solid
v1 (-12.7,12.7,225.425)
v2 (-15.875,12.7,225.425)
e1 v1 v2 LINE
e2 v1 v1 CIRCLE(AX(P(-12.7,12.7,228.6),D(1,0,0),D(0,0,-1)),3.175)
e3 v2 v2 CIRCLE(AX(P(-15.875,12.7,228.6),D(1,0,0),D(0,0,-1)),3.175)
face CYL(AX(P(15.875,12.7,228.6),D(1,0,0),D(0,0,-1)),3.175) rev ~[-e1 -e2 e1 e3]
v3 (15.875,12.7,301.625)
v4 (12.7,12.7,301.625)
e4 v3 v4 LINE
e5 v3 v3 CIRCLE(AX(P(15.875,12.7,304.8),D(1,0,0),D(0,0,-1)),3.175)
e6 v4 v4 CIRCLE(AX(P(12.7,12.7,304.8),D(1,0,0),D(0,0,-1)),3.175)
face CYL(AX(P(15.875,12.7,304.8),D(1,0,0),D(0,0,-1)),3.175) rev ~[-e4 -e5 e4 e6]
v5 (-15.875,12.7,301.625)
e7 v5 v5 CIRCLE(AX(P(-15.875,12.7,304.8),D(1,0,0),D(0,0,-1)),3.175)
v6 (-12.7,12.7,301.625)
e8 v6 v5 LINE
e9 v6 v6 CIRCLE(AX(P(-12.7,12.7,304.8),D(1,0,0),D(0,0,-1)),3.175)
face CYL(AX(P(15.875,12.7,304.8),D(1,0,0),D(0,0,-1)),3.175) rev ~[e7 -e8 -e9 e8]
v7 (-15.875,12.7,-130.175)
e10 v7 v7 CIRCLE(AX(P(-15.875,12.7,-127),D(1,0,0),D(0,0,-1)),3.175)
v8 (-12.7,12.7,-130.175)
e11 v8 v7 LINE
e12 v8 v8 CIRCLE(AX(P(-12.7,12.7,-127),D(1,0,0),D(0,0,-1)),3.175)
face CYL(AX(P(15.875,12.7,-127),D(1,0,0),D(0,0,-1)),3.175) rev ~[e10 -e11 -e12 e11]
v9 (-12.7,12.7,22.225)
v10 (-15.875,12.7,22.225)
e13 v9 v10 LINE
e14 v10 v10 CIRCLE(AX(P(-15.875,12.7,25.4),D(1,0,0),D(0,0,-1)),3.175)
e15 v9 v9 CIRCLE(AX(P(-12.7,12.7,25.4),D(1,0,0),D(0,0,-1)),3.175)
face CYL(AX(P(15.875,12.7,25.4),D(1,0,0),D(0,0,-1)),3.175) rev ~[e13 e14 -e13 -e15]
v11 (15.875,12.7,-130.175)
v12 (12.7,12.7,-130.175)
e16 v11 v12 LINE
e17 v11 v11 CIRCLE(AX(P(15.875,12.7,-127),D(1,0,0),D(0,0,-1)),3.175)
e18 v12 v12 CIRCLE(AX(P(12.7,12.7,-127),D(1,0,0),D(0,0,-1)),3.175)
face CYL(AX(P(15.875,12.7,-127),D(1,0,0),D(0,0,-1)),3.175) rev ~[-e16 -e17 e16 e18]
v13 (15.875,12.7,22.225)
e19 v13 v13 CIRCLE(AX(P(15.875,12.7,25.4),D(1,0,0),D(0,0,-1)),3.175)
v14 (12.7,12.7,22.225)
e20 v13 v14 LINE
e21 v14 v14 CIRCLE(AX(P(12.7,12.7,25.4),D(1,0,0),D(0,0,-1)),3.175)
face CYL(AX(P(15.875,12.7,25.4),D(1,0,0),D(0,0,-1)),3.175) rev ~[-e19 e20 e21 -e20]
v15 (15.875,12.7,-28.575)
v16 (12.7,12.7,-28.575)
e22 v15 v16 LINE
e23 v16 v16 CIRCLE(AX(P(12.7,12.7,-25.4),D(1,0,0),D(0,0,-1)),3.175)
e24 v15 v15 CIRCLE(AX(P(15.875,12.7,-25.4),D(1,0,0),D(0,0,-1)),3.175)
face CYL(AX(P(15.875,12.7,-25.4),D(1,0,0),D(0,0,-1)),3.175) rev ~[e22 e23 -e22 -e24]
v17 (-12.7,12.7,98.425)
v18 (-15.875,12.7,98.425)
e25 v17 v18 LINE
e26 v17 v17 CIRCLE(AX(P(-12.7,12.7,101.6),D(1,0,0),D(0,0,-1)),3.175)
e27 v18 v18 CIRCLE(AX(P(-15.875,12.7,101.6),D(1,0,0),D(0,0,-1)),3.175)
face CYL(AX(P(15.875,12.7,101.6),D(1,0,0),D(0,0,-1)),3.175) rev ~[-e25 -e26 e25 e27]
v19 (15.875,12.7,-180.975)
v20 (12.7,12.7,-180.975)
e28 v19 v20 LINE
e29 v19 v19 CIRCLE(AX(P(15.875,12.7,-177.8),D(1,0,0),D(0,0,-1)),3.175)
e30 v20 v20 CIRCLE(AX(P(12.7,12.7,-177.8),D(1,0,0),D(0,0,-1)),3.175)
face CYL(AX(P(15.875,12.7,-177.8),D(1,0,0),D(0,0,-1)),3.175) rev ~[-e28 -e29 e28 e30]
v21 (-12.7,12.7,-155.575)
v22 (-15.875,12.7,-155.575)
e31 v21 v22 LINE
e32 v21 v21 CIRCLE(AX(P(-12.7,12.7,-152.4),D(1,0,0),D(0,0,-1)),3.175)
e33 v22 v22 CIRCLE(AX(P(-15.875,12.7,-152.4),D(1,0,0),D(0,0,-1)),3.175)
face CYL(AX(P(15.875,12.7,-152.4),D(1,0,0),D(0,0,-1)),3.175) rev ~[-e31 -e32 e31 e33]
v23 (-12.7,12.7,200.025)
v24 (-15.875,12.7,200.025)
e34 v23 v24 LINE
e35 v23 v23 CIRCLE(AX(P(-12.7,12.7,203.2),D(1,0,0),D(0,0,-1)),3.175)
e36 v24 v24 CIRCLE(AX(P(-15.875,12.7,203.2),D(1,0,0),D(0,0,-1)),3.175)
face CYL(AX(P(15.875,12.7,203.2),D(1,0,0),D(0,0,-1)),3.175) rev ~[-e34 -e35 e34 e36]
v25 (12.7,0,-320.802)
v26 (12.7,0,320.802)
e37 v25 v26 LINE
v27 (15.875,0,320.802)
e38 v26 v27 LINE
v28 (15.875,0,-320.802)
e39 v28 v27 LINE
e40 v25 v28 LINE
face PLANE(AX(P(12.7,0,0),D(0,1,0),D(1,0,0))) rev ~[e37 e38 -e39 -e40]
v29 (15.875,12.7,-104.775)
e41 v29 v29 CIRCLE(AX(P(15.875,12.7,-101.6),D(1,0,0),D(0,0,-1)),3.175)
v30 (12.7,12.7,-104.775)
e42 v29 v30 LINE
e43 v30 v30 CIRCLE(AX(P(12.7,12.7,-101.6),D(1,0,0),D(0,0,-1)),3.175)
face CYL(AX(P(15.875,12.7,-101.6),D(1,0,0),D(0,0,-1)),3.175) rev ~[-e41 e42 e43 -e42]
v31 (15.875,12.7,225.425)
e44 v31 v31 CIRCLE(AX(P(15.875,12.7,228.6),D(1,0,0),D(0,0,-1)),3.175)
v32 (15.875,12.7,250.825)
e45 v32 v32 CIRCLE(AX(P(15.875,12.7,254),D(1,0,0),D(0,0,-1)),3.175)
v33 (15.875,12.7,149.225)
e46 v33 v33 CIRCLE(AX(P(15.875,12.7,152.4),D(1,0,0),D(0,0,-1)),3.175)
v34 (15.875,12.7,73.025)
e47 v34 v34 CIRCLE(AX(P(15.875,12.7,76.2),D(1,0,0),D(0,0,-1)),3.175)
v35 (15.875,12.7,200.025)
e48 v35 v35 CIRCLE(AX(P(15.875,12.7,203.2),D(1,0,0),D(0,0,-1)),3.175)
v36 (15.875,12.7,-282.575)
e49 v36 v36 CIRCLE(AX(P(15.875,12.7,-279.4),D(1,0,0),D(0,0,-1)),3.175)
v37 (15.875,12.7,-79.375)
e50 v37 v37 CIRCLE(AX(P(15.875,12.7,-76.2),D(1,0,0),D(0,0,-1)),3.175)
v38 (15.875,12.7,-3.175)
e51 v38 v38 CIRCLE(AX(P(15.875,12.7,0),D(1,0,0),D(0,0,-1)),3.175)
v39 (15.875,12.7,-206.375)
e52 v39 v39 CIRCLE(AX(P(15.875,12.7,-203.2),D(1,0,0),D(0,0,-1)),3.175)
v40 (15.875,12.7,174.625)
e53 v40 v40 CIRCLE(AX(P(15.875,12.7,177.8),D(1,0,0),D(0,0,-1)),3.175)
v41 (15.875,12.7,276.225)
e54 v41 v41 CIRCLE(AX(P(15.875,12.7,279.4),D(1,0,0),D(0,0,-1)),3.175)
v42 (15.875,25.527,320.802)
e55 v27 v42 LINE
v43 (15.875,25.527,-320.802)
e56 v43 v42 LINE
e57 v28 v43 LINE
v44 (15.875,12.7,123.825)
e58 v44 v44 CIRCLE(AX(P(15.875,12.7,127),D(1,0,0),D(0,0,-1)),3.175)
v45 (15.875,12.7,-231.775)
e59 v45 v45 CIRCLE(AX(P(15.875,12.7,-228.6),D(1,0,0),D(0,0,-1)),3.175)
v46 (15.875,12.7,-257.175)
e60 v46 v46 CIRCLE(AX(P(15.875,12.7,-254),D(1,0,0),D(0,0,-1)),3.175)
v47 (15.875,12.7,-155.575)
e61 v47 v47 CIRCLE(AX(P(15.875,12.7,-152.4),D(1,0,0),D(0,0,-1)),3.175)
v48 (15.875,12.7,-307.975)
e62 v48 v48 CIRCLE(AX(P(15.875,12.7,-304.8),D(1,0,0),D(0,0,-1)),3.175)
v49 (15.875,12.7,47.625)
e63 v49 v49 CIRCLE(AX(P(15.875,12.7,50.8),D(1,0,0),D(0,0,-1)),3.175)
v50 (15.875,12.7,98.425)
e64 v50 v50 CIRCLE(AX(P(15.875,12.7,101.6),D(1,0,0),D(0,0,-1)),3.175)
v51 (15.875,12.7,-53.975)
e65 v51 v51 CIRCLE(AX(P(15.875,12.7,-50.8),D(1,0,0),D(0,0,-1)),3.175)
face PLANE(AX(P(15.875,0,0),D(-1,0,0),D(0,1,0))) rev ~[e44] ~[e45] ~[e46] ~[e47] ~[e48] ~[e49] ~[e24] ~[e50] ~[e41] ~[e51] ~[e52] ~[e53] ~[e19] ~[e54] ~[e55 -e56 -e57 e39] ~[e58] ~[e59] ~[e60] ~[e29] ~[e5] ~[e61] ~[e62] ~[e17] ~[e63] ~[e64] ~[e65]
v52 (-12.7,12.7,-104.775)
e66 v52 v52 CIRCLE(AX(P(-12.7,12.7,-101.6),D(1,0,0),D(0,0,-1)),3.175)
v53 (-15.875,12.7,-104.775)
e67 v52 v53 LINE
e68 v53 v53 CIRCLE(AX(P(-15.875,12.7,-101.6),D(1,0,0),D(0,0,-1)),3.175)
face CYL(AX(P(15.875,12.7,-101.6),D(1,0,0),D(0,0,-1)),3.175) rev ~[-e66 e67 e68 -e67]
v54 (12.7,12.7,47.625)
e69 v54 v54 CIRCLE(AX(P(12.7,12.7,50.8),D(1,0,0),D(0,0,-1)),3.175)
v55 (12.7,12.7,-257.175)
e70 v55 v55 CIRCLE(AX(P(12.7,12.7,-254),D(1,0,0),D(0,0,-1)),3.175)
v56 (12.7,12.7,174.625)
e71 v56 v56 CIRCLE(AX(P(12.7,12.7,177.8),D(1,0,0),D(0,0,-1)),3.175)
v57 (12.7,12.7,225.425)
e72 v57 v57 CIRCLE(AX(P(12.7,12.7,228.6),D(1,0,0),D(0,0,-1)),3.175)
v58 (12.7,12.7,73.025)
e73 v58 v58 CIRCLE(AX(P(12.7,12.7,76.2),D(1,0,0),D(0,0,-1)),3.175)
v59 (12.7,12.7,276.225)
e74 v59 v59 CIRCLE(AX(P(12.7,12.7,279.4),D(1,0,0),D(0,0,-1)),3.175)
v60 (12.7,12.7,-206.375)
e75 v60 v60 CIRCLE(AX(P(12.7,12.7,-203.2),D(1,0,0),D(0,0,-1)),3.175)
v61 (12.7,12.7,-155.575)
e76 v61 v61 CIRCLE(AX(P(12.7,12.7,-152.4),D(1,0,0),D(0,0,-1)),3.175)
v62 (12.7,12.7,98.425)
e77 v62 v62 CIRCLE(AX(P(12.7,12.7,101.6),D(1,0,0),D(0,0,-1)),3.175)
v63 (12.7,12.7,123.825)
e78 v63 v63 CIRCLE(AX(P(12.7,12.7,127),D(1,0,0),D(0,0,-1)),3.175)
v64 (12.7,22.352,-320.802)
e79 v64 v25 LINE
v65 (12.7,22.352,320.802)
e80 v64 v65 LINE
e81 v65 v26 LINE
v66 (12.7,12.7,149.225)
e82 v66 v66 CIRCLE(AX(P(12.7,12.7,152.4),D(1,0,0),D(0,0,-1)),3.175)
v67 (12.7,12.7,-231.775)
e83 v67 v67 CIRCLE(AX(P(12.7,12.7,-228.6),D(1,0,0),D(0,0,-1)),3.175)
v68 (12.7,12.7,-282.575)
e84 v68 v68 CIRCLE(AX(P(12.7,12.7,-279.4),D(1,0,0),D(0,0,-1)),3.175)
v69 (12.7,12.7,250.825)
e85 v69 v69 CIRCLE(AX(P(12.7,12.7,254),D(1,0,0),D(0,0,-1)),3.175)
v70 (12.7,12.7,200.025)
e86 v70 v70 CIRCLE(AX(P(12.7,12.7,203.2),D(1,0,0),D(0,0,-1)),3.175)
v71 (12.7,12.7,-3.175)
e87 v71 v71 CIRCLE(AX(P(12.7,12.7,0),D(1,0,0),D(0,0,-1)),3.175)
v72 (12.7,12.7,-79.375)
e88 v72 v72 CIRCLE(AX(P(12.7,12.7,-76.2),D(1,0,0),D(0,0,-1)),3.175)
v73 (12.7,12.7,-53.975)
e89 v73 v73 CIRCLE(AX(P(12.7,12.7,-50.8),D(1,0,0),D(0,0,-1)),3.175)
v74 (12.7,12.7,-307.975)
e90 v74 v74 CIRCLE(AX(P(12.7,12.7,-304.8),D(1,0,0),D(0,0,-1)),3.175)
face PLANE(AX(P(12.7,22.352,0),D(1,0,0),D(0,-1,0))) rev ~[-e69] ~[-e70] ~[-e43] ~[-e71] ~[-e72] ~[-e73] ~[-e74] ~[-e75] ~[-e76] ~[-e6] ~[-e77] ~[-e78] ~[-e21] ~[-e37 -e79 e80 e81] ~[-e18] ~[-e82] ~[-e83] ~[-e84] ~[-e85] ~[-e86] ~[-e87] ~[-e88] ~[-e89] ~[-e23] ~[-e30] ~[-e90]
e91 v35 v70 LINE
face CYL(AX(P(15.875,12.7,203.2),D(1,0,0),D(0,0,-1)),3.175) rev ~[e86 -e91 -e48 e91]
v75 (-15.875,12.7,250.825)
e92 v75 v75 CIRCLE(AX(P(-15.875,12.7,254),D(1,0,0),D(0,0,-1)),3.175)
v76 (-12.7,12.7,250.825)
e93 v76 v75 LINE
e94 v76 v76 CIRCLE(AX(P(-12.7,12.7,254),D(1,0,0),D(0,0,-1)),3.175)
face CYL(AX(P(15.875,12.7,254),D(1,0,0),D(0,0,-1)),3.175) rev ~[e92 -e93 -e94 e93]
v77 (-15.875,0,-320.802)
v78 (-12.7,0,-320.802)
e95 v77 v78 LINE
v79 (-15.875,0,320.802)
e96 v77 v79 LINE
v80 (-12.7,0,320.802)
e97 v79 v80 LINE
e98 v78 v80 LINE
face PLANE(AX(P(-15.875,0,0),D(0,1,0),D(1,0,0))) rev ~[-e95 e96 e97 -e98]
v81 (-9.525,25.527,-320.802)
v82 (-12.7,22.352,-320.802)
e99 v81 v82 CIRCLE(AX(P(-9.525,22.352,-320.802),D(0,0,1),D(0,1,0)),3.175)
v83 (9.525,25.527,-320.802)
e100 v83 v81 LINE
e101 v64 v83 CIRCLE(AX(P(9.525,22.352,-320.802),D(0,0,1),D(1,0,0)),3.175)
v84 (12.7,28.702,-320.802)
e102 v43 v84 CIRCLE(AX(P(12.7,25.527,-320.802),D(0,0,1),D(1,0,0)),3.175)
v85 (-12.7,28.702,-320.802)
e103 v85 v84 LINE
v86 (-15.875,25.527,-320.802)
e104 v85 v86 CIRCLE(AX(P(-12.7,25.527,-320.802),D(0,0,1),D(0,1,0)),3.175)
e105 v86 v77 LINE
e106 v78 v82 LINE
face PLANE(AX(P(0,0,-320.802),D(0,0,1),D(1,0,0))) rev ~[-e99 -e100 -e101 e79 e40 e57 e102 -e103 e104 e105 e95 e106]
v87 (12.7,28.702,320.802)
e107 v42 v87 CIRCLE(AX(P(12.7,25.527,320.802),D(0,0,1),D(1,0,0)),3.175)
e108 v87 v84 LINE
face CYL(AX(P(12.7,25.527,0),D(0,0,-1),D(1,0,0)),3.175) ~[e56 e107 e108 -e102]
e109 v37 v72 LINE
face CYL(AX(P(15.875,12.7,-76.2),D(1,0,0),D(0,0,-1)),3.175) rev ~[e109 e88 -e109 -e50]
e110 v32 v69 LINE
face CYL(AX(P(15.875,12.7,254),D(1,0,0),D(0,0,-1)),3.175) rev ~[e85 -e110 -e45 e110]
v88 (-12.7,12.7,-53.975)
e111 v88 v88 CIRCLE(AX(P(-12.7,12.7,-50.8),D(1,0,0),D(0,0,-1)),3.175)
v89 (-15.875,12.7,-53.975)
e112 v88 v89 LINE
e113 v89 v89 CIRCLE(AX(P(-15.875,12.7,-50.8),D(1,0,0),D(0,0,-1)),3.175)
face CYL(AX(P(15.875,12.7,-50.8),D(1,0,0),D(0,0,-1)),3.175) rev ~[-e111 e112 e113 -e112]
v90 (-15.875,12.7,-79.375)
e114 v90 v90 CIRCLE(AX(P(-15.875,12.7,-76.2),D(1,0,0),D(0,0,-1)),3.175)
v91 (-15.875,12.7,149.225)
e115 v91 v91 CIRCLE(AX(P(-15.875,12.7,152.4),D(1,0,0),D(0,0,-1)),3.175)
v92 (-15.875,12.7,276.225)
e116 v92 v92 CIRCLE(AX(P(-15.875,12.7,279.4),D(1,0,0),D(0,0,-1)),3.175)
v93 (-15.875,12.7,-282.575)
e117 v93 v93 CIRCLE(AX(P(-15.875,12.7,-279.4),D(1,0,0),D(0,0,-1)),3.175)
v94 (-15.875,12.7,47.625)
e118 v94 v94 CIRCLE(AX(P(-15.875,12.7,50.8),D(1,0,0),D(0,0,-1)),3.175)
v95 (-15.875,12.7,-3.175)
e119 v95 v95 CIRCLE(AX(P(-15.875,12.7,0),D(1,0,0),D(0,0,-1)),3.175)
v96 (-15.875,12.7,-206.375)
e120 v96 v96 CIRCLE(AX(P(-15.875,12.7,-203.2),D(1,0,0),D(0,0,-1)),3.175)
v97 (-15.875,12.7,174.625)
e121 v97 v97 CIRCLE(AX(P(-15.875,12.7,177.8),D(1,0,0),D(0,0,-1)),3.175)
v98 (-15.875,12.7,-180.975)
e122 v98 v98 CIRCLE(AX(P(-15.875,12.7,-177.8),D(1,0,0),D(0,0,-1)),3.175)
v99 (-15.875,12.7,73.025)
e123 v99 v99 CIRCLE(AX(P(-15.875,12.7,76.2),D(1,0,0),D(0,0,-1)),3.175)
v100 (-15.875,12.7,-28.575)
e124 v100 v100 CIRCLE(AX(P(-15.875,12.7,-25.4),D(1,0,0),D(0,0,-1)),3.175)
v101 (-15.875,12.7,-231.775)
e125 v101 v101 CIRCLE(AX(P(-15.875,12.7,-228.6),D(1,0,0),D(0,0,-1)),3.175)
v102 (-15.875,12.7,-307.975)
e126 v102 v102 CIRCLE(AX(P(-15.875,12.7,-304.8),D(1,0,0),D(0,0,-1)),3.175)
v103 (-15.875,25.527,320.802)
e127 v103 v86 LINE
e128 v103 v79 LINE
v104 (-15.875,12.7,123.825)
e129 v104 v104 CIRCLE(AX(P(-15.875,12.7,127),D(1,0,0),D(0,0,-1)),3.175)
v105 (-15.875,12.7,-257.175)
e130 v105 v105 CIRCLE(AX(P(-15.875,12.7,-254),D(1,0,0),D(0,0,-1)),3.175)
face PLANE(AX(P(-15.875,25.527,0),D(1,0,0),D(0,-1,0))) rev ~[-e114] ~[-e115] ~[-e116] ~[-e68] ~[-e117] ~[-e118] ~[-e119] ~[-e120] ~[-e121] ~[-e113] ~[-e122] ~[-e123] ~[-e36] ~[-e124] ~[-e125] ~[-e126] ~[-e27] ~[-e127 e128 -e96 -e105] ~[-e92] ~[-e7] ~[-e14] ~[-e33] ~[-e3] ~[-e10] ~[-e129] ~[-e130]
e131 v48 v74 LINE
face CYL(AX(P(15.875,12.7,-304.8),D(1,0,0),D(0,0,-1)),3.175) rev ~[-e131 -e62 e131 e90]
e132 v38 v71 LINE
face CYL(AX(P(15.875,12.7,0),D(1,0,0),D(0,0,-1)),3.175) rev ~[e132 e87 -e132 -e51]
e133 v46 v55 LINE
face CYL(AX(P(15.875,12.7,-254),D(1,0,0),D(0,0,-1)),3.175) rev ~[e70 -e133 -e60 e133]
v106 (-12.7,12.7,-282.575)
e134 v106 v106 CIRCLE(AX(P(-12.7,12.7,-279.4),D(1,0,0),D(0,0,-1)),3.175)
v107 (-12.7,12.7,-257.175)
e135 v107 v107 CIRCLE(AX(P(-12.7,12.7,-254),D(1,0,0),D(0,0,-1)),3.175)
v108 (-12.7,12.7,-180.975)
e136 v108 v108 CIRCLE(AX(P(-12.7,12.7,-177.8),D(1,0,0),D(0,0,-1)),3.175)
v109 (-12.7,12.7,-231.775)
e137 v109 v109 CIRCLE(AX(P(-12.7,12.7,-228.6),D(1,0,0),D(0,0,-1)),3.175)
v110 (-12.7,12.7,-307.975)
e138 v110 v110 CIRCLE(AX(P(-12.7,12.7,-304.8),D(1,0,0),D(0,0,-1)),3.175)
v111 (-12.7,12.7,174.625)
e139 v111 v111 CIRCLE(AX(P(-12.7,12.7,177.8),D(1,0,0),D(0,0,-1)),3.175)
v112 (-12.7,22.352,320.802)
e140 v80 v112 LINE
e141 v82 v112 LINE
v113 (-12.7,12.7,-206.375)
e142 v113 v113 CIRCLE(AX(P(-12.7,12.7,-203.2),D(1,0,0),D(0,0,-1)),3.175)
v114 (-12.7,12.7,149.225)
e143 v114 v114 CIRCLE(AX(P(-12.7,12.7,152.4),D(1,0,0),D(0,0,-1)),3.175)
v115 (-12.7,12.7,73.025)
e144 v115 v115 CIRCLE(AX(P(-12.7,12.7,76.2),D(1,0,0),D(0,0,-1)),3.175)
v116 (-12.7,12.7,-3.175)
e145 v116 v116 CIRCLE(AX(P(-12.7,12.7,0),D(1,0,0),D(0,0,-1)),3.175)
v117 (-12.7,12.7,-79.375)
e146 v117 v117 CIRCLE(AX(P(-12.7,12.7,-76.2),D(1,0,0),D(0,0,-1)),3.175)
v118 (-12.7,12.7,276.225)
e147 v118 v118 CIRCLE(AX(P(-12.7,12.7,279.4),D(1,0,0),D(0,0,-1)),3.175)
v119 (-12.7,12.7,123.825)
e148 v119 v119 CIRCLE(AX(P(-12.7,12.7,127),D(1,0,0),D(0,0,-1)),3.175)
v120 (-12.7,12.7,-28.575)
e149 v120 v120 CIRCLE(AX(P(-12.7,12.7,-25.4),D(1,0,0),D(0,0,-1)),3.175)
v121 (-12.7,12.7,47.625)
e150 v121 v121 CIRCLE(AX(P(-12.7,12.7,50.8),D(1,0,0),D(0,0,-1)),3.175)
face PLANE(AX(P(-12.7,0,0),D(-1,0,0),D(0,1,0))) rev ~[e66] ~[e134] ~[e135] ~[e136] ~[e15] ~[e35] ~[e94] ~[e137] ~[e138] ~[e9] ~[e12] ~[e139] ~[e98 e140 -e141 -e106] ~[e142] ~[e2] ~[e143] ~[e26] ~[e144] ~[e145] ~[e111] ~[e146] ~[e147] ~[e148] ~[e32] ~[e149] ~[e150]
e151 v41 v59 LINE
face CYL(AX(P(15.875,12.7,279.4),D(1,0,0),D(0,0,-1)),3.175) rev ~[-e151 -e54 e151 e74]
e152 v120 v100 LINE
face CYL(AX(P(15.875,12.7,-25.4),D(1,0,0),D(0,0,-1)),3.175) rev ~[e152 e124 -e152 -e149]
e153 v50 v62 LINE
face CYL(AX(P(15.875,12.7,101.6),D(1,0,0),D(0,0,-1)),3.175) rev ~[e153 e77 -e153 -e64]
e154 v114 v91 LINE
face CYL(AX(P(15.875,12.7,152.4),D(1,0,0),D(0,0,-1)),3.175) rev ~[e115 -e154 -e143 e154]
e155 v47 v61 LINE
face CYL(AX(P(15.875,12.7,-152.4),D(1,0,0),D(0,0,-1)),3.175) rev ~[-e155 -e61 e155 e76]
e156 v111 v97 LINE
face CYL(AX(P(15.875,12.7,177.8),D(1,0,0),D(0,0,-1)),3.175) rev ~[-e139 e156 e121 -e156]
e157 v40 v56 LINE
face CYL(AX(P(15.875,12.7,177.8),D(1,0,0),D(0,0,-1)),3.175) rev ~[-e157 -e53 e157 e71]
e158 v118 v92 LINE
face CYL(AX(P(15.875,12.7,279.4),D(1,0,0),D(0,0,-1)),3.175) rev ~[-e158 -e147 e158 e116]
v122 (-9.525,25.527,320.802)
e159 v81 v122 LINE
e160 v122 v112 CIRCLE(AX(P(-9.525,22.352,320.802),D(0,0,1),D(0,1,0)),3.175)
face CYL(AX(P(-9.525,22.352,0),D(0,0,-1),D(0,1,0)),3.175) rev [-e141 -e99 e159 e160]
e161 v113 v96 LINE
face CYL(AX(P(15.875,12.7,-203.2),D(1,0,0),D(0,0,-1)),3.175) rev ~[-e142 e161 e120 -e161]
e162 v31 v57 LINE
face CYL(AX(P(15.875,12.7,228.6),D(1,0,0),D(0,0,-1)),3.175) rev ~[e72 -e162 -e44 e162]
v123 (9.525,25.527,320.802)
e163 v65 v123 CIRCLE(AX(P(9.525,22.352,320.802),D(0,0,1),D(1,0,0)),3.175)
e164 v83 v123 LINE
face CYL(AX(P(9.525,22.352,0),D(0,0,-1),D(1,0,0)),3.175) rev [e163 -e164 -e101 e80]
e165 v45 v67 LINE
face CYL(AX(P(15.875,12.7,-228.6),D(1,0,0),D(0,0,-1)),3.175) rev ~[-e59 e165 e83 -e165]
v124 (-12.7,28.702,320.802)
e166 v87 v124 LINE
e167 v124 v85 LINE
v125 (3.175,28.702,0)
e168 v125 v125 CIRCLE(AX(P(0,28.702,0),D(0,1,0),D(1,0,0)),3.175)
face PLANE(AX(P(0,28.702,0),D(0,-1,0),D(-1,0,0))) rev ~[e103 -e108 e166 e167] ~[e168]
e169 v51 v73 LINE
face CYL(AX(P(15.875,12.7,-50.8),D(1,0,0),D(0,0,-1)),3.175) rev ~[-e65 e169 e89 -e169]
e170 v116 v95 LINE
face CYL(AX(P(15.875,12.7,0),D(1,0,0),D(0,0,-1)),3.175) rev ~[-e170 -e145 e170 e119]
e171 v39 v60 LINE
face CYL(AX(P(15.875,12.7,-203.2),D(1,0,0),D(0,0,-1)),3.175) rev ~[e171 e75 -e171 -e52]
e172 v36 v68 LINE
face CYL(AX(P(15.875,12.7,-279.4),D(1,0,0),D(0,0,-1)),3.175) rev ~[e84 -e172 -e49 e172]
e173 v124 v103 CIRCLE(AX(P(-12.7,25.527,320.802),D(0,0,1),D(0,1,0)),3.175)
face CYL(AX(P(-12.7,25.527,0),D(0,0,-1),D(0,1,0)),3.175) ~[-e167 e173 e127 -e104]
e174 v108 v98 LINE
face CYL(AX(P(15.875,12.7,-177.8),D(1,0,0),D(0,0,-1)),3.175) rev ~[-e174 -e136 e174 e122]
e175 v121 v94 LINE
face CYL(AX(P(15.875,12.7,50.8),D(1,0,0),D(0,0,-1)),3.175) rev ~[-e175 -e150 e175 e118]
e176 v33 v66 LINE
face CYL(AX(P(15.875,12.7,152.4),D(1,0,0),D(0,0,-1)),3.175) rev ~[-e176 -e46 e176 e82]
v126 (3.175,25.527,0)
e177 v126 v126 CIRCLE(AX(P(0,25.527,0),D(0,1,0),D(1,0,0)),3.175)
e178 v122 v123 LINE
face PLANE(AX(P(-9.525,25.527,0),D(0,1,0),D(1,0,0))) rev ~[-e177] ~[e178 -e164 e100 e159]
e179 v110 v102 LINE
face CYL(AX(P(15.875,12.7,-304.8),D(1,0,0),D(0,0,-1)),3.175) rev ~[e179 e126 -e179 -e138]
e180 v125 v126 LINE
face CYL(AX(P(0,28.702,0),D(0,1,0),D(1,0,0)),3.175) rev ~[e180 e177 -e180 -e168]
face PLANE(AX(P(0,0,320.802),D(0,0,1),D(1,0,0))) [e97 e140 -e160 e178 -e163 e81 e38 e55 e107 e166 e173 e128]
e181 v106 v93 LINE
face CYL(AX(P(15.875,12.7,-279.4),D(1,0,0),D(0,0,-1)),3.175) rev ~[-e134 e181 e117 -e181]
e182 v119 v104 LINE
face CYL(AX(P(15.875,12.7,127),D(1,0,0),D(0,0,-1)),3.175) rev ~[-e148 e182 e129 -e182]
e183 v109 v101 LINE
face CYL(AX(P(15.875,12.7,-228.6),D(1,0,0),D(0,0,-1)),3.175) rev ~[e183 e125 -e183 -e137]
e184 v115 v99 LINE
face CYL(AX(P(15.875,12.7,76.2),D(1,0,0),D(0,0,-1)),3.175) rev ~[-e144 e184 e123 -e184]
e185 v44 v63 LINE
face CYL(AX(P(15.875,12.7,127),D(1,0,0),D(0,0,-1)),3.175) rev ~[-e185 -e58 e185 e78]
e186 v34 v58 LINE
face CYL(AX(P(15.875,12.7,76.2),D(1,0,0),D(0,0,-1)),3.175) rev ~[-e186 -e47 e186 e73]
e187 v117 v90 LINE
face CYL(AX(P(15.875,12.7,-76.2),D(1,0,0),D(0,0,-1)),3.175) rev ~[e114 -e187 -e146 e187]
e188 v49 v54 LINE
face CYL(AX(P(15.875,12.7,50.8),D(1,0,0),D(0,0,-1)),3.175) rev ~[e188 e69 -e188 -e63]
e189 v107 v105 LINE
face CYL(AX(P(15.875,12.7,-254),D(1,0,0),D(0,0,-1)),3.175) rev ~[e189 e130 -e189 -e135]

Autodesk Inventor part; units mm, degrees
ref_plane "YZ Plane" through (0, 0, 0) normal (1, 0, 0) x (0, 1, 0)
ref_plane "XZ Plane" through (0, 0, 0) normal (0, 1, 0) x (-1, 0, 0)
ref_plane "XY Plane" through (0, 0, 0) normal (0, 0, 1) x (1, 0, 0)
sketch "Sketch1" plane through (0, 0, 0) normal (0, 0, 1) x (1, 0, 0)
  line L0 (-15.875, 0) -> (-12.7, 0)
  line L1 (-12.7, 0) -> (-12.7, 22.352)
  line L2 (-9.525, 25.527) -> (9.525, 25.527)
  line L3 (12.7, 22.352) -> (12.7, 0)
  line L4 (12.7, 0) -> (15.875, 0)
  line L5 (15.875, 0) -> (15.875, 25.527)
  line L6 (12.7, 28.702) -> (-12.7, 28.702)
  line L7 (-15.875, 25.527) -> (-15.875, 0)
  arc A0 (-9.525, 25.527) -> (-12.7, 22.352) centre (-9.525, 22.352) ccw
  arc A1 (12.7, 22.352) -> (9.525, 25.527) centre (9.525, 22.352) ccw
  arc A2 (-12.7, 28.702) -> (-15.875, 25.527) centre (-12.7, 25.527) ccw
  arc A3 (15.875, 25.527) -> (12.7, 28.702) centre (12.7, 25.527) ccw
  line L8 (0, 35.2315) -> (0, -5.8719) projected
  point P0 (0, 0)
  dimension "d0" = 28.702
  dimension "d1" = 31.75
  dimension "d2" = 3.175
  dimension "d3" = 3.175
  dimension "d4" = 3.175
extrude "Extrusion1" add sketch "Sketch1" along normal mid plane 641.604
sketch "Sketch4" plane through (15.875, 0, 320.802) normal (1, 0, 0) x (0, 0, -1)
  line L0 (320.802, -5.7404) -> (320.802, 34.4424) construction
  line L1 (-128.3208, 0) -> (769.9248, 0) construction
  circle A0 centre (320.802, 12.7) radius 3.175
  point P0 (320.802, 0)
  dimension "d34" = 12.7
  dimension "d35" = 0
  dimension "d36" = 6.35
extrude "Extrusion4" cut sketch "Sketch4" against normal up to surface (31.75 mm away)
pattern_linear "Rectangular Pattern3" count 30 spacing 25.4 along (0, 0, 1) count 30 spacing 25.4 along (0, 0, -1) of "Extrusion4"
sketch "Sketch5" plane through (-12.7, 28.702, 320.802) normal (0, 1, 0) x (1, 0, 0)
  circle A0 centre (12.7, 320.802) radius 3.175
  dimension "d45" = 6.35
extrude "Extrusion5" cut sketch "Sketch5" against normal up to next
equation "\"d5\" = HingeLength"
equation "\"HingeLength\" = 641.604"
properties part number "NSupportChannel2"
